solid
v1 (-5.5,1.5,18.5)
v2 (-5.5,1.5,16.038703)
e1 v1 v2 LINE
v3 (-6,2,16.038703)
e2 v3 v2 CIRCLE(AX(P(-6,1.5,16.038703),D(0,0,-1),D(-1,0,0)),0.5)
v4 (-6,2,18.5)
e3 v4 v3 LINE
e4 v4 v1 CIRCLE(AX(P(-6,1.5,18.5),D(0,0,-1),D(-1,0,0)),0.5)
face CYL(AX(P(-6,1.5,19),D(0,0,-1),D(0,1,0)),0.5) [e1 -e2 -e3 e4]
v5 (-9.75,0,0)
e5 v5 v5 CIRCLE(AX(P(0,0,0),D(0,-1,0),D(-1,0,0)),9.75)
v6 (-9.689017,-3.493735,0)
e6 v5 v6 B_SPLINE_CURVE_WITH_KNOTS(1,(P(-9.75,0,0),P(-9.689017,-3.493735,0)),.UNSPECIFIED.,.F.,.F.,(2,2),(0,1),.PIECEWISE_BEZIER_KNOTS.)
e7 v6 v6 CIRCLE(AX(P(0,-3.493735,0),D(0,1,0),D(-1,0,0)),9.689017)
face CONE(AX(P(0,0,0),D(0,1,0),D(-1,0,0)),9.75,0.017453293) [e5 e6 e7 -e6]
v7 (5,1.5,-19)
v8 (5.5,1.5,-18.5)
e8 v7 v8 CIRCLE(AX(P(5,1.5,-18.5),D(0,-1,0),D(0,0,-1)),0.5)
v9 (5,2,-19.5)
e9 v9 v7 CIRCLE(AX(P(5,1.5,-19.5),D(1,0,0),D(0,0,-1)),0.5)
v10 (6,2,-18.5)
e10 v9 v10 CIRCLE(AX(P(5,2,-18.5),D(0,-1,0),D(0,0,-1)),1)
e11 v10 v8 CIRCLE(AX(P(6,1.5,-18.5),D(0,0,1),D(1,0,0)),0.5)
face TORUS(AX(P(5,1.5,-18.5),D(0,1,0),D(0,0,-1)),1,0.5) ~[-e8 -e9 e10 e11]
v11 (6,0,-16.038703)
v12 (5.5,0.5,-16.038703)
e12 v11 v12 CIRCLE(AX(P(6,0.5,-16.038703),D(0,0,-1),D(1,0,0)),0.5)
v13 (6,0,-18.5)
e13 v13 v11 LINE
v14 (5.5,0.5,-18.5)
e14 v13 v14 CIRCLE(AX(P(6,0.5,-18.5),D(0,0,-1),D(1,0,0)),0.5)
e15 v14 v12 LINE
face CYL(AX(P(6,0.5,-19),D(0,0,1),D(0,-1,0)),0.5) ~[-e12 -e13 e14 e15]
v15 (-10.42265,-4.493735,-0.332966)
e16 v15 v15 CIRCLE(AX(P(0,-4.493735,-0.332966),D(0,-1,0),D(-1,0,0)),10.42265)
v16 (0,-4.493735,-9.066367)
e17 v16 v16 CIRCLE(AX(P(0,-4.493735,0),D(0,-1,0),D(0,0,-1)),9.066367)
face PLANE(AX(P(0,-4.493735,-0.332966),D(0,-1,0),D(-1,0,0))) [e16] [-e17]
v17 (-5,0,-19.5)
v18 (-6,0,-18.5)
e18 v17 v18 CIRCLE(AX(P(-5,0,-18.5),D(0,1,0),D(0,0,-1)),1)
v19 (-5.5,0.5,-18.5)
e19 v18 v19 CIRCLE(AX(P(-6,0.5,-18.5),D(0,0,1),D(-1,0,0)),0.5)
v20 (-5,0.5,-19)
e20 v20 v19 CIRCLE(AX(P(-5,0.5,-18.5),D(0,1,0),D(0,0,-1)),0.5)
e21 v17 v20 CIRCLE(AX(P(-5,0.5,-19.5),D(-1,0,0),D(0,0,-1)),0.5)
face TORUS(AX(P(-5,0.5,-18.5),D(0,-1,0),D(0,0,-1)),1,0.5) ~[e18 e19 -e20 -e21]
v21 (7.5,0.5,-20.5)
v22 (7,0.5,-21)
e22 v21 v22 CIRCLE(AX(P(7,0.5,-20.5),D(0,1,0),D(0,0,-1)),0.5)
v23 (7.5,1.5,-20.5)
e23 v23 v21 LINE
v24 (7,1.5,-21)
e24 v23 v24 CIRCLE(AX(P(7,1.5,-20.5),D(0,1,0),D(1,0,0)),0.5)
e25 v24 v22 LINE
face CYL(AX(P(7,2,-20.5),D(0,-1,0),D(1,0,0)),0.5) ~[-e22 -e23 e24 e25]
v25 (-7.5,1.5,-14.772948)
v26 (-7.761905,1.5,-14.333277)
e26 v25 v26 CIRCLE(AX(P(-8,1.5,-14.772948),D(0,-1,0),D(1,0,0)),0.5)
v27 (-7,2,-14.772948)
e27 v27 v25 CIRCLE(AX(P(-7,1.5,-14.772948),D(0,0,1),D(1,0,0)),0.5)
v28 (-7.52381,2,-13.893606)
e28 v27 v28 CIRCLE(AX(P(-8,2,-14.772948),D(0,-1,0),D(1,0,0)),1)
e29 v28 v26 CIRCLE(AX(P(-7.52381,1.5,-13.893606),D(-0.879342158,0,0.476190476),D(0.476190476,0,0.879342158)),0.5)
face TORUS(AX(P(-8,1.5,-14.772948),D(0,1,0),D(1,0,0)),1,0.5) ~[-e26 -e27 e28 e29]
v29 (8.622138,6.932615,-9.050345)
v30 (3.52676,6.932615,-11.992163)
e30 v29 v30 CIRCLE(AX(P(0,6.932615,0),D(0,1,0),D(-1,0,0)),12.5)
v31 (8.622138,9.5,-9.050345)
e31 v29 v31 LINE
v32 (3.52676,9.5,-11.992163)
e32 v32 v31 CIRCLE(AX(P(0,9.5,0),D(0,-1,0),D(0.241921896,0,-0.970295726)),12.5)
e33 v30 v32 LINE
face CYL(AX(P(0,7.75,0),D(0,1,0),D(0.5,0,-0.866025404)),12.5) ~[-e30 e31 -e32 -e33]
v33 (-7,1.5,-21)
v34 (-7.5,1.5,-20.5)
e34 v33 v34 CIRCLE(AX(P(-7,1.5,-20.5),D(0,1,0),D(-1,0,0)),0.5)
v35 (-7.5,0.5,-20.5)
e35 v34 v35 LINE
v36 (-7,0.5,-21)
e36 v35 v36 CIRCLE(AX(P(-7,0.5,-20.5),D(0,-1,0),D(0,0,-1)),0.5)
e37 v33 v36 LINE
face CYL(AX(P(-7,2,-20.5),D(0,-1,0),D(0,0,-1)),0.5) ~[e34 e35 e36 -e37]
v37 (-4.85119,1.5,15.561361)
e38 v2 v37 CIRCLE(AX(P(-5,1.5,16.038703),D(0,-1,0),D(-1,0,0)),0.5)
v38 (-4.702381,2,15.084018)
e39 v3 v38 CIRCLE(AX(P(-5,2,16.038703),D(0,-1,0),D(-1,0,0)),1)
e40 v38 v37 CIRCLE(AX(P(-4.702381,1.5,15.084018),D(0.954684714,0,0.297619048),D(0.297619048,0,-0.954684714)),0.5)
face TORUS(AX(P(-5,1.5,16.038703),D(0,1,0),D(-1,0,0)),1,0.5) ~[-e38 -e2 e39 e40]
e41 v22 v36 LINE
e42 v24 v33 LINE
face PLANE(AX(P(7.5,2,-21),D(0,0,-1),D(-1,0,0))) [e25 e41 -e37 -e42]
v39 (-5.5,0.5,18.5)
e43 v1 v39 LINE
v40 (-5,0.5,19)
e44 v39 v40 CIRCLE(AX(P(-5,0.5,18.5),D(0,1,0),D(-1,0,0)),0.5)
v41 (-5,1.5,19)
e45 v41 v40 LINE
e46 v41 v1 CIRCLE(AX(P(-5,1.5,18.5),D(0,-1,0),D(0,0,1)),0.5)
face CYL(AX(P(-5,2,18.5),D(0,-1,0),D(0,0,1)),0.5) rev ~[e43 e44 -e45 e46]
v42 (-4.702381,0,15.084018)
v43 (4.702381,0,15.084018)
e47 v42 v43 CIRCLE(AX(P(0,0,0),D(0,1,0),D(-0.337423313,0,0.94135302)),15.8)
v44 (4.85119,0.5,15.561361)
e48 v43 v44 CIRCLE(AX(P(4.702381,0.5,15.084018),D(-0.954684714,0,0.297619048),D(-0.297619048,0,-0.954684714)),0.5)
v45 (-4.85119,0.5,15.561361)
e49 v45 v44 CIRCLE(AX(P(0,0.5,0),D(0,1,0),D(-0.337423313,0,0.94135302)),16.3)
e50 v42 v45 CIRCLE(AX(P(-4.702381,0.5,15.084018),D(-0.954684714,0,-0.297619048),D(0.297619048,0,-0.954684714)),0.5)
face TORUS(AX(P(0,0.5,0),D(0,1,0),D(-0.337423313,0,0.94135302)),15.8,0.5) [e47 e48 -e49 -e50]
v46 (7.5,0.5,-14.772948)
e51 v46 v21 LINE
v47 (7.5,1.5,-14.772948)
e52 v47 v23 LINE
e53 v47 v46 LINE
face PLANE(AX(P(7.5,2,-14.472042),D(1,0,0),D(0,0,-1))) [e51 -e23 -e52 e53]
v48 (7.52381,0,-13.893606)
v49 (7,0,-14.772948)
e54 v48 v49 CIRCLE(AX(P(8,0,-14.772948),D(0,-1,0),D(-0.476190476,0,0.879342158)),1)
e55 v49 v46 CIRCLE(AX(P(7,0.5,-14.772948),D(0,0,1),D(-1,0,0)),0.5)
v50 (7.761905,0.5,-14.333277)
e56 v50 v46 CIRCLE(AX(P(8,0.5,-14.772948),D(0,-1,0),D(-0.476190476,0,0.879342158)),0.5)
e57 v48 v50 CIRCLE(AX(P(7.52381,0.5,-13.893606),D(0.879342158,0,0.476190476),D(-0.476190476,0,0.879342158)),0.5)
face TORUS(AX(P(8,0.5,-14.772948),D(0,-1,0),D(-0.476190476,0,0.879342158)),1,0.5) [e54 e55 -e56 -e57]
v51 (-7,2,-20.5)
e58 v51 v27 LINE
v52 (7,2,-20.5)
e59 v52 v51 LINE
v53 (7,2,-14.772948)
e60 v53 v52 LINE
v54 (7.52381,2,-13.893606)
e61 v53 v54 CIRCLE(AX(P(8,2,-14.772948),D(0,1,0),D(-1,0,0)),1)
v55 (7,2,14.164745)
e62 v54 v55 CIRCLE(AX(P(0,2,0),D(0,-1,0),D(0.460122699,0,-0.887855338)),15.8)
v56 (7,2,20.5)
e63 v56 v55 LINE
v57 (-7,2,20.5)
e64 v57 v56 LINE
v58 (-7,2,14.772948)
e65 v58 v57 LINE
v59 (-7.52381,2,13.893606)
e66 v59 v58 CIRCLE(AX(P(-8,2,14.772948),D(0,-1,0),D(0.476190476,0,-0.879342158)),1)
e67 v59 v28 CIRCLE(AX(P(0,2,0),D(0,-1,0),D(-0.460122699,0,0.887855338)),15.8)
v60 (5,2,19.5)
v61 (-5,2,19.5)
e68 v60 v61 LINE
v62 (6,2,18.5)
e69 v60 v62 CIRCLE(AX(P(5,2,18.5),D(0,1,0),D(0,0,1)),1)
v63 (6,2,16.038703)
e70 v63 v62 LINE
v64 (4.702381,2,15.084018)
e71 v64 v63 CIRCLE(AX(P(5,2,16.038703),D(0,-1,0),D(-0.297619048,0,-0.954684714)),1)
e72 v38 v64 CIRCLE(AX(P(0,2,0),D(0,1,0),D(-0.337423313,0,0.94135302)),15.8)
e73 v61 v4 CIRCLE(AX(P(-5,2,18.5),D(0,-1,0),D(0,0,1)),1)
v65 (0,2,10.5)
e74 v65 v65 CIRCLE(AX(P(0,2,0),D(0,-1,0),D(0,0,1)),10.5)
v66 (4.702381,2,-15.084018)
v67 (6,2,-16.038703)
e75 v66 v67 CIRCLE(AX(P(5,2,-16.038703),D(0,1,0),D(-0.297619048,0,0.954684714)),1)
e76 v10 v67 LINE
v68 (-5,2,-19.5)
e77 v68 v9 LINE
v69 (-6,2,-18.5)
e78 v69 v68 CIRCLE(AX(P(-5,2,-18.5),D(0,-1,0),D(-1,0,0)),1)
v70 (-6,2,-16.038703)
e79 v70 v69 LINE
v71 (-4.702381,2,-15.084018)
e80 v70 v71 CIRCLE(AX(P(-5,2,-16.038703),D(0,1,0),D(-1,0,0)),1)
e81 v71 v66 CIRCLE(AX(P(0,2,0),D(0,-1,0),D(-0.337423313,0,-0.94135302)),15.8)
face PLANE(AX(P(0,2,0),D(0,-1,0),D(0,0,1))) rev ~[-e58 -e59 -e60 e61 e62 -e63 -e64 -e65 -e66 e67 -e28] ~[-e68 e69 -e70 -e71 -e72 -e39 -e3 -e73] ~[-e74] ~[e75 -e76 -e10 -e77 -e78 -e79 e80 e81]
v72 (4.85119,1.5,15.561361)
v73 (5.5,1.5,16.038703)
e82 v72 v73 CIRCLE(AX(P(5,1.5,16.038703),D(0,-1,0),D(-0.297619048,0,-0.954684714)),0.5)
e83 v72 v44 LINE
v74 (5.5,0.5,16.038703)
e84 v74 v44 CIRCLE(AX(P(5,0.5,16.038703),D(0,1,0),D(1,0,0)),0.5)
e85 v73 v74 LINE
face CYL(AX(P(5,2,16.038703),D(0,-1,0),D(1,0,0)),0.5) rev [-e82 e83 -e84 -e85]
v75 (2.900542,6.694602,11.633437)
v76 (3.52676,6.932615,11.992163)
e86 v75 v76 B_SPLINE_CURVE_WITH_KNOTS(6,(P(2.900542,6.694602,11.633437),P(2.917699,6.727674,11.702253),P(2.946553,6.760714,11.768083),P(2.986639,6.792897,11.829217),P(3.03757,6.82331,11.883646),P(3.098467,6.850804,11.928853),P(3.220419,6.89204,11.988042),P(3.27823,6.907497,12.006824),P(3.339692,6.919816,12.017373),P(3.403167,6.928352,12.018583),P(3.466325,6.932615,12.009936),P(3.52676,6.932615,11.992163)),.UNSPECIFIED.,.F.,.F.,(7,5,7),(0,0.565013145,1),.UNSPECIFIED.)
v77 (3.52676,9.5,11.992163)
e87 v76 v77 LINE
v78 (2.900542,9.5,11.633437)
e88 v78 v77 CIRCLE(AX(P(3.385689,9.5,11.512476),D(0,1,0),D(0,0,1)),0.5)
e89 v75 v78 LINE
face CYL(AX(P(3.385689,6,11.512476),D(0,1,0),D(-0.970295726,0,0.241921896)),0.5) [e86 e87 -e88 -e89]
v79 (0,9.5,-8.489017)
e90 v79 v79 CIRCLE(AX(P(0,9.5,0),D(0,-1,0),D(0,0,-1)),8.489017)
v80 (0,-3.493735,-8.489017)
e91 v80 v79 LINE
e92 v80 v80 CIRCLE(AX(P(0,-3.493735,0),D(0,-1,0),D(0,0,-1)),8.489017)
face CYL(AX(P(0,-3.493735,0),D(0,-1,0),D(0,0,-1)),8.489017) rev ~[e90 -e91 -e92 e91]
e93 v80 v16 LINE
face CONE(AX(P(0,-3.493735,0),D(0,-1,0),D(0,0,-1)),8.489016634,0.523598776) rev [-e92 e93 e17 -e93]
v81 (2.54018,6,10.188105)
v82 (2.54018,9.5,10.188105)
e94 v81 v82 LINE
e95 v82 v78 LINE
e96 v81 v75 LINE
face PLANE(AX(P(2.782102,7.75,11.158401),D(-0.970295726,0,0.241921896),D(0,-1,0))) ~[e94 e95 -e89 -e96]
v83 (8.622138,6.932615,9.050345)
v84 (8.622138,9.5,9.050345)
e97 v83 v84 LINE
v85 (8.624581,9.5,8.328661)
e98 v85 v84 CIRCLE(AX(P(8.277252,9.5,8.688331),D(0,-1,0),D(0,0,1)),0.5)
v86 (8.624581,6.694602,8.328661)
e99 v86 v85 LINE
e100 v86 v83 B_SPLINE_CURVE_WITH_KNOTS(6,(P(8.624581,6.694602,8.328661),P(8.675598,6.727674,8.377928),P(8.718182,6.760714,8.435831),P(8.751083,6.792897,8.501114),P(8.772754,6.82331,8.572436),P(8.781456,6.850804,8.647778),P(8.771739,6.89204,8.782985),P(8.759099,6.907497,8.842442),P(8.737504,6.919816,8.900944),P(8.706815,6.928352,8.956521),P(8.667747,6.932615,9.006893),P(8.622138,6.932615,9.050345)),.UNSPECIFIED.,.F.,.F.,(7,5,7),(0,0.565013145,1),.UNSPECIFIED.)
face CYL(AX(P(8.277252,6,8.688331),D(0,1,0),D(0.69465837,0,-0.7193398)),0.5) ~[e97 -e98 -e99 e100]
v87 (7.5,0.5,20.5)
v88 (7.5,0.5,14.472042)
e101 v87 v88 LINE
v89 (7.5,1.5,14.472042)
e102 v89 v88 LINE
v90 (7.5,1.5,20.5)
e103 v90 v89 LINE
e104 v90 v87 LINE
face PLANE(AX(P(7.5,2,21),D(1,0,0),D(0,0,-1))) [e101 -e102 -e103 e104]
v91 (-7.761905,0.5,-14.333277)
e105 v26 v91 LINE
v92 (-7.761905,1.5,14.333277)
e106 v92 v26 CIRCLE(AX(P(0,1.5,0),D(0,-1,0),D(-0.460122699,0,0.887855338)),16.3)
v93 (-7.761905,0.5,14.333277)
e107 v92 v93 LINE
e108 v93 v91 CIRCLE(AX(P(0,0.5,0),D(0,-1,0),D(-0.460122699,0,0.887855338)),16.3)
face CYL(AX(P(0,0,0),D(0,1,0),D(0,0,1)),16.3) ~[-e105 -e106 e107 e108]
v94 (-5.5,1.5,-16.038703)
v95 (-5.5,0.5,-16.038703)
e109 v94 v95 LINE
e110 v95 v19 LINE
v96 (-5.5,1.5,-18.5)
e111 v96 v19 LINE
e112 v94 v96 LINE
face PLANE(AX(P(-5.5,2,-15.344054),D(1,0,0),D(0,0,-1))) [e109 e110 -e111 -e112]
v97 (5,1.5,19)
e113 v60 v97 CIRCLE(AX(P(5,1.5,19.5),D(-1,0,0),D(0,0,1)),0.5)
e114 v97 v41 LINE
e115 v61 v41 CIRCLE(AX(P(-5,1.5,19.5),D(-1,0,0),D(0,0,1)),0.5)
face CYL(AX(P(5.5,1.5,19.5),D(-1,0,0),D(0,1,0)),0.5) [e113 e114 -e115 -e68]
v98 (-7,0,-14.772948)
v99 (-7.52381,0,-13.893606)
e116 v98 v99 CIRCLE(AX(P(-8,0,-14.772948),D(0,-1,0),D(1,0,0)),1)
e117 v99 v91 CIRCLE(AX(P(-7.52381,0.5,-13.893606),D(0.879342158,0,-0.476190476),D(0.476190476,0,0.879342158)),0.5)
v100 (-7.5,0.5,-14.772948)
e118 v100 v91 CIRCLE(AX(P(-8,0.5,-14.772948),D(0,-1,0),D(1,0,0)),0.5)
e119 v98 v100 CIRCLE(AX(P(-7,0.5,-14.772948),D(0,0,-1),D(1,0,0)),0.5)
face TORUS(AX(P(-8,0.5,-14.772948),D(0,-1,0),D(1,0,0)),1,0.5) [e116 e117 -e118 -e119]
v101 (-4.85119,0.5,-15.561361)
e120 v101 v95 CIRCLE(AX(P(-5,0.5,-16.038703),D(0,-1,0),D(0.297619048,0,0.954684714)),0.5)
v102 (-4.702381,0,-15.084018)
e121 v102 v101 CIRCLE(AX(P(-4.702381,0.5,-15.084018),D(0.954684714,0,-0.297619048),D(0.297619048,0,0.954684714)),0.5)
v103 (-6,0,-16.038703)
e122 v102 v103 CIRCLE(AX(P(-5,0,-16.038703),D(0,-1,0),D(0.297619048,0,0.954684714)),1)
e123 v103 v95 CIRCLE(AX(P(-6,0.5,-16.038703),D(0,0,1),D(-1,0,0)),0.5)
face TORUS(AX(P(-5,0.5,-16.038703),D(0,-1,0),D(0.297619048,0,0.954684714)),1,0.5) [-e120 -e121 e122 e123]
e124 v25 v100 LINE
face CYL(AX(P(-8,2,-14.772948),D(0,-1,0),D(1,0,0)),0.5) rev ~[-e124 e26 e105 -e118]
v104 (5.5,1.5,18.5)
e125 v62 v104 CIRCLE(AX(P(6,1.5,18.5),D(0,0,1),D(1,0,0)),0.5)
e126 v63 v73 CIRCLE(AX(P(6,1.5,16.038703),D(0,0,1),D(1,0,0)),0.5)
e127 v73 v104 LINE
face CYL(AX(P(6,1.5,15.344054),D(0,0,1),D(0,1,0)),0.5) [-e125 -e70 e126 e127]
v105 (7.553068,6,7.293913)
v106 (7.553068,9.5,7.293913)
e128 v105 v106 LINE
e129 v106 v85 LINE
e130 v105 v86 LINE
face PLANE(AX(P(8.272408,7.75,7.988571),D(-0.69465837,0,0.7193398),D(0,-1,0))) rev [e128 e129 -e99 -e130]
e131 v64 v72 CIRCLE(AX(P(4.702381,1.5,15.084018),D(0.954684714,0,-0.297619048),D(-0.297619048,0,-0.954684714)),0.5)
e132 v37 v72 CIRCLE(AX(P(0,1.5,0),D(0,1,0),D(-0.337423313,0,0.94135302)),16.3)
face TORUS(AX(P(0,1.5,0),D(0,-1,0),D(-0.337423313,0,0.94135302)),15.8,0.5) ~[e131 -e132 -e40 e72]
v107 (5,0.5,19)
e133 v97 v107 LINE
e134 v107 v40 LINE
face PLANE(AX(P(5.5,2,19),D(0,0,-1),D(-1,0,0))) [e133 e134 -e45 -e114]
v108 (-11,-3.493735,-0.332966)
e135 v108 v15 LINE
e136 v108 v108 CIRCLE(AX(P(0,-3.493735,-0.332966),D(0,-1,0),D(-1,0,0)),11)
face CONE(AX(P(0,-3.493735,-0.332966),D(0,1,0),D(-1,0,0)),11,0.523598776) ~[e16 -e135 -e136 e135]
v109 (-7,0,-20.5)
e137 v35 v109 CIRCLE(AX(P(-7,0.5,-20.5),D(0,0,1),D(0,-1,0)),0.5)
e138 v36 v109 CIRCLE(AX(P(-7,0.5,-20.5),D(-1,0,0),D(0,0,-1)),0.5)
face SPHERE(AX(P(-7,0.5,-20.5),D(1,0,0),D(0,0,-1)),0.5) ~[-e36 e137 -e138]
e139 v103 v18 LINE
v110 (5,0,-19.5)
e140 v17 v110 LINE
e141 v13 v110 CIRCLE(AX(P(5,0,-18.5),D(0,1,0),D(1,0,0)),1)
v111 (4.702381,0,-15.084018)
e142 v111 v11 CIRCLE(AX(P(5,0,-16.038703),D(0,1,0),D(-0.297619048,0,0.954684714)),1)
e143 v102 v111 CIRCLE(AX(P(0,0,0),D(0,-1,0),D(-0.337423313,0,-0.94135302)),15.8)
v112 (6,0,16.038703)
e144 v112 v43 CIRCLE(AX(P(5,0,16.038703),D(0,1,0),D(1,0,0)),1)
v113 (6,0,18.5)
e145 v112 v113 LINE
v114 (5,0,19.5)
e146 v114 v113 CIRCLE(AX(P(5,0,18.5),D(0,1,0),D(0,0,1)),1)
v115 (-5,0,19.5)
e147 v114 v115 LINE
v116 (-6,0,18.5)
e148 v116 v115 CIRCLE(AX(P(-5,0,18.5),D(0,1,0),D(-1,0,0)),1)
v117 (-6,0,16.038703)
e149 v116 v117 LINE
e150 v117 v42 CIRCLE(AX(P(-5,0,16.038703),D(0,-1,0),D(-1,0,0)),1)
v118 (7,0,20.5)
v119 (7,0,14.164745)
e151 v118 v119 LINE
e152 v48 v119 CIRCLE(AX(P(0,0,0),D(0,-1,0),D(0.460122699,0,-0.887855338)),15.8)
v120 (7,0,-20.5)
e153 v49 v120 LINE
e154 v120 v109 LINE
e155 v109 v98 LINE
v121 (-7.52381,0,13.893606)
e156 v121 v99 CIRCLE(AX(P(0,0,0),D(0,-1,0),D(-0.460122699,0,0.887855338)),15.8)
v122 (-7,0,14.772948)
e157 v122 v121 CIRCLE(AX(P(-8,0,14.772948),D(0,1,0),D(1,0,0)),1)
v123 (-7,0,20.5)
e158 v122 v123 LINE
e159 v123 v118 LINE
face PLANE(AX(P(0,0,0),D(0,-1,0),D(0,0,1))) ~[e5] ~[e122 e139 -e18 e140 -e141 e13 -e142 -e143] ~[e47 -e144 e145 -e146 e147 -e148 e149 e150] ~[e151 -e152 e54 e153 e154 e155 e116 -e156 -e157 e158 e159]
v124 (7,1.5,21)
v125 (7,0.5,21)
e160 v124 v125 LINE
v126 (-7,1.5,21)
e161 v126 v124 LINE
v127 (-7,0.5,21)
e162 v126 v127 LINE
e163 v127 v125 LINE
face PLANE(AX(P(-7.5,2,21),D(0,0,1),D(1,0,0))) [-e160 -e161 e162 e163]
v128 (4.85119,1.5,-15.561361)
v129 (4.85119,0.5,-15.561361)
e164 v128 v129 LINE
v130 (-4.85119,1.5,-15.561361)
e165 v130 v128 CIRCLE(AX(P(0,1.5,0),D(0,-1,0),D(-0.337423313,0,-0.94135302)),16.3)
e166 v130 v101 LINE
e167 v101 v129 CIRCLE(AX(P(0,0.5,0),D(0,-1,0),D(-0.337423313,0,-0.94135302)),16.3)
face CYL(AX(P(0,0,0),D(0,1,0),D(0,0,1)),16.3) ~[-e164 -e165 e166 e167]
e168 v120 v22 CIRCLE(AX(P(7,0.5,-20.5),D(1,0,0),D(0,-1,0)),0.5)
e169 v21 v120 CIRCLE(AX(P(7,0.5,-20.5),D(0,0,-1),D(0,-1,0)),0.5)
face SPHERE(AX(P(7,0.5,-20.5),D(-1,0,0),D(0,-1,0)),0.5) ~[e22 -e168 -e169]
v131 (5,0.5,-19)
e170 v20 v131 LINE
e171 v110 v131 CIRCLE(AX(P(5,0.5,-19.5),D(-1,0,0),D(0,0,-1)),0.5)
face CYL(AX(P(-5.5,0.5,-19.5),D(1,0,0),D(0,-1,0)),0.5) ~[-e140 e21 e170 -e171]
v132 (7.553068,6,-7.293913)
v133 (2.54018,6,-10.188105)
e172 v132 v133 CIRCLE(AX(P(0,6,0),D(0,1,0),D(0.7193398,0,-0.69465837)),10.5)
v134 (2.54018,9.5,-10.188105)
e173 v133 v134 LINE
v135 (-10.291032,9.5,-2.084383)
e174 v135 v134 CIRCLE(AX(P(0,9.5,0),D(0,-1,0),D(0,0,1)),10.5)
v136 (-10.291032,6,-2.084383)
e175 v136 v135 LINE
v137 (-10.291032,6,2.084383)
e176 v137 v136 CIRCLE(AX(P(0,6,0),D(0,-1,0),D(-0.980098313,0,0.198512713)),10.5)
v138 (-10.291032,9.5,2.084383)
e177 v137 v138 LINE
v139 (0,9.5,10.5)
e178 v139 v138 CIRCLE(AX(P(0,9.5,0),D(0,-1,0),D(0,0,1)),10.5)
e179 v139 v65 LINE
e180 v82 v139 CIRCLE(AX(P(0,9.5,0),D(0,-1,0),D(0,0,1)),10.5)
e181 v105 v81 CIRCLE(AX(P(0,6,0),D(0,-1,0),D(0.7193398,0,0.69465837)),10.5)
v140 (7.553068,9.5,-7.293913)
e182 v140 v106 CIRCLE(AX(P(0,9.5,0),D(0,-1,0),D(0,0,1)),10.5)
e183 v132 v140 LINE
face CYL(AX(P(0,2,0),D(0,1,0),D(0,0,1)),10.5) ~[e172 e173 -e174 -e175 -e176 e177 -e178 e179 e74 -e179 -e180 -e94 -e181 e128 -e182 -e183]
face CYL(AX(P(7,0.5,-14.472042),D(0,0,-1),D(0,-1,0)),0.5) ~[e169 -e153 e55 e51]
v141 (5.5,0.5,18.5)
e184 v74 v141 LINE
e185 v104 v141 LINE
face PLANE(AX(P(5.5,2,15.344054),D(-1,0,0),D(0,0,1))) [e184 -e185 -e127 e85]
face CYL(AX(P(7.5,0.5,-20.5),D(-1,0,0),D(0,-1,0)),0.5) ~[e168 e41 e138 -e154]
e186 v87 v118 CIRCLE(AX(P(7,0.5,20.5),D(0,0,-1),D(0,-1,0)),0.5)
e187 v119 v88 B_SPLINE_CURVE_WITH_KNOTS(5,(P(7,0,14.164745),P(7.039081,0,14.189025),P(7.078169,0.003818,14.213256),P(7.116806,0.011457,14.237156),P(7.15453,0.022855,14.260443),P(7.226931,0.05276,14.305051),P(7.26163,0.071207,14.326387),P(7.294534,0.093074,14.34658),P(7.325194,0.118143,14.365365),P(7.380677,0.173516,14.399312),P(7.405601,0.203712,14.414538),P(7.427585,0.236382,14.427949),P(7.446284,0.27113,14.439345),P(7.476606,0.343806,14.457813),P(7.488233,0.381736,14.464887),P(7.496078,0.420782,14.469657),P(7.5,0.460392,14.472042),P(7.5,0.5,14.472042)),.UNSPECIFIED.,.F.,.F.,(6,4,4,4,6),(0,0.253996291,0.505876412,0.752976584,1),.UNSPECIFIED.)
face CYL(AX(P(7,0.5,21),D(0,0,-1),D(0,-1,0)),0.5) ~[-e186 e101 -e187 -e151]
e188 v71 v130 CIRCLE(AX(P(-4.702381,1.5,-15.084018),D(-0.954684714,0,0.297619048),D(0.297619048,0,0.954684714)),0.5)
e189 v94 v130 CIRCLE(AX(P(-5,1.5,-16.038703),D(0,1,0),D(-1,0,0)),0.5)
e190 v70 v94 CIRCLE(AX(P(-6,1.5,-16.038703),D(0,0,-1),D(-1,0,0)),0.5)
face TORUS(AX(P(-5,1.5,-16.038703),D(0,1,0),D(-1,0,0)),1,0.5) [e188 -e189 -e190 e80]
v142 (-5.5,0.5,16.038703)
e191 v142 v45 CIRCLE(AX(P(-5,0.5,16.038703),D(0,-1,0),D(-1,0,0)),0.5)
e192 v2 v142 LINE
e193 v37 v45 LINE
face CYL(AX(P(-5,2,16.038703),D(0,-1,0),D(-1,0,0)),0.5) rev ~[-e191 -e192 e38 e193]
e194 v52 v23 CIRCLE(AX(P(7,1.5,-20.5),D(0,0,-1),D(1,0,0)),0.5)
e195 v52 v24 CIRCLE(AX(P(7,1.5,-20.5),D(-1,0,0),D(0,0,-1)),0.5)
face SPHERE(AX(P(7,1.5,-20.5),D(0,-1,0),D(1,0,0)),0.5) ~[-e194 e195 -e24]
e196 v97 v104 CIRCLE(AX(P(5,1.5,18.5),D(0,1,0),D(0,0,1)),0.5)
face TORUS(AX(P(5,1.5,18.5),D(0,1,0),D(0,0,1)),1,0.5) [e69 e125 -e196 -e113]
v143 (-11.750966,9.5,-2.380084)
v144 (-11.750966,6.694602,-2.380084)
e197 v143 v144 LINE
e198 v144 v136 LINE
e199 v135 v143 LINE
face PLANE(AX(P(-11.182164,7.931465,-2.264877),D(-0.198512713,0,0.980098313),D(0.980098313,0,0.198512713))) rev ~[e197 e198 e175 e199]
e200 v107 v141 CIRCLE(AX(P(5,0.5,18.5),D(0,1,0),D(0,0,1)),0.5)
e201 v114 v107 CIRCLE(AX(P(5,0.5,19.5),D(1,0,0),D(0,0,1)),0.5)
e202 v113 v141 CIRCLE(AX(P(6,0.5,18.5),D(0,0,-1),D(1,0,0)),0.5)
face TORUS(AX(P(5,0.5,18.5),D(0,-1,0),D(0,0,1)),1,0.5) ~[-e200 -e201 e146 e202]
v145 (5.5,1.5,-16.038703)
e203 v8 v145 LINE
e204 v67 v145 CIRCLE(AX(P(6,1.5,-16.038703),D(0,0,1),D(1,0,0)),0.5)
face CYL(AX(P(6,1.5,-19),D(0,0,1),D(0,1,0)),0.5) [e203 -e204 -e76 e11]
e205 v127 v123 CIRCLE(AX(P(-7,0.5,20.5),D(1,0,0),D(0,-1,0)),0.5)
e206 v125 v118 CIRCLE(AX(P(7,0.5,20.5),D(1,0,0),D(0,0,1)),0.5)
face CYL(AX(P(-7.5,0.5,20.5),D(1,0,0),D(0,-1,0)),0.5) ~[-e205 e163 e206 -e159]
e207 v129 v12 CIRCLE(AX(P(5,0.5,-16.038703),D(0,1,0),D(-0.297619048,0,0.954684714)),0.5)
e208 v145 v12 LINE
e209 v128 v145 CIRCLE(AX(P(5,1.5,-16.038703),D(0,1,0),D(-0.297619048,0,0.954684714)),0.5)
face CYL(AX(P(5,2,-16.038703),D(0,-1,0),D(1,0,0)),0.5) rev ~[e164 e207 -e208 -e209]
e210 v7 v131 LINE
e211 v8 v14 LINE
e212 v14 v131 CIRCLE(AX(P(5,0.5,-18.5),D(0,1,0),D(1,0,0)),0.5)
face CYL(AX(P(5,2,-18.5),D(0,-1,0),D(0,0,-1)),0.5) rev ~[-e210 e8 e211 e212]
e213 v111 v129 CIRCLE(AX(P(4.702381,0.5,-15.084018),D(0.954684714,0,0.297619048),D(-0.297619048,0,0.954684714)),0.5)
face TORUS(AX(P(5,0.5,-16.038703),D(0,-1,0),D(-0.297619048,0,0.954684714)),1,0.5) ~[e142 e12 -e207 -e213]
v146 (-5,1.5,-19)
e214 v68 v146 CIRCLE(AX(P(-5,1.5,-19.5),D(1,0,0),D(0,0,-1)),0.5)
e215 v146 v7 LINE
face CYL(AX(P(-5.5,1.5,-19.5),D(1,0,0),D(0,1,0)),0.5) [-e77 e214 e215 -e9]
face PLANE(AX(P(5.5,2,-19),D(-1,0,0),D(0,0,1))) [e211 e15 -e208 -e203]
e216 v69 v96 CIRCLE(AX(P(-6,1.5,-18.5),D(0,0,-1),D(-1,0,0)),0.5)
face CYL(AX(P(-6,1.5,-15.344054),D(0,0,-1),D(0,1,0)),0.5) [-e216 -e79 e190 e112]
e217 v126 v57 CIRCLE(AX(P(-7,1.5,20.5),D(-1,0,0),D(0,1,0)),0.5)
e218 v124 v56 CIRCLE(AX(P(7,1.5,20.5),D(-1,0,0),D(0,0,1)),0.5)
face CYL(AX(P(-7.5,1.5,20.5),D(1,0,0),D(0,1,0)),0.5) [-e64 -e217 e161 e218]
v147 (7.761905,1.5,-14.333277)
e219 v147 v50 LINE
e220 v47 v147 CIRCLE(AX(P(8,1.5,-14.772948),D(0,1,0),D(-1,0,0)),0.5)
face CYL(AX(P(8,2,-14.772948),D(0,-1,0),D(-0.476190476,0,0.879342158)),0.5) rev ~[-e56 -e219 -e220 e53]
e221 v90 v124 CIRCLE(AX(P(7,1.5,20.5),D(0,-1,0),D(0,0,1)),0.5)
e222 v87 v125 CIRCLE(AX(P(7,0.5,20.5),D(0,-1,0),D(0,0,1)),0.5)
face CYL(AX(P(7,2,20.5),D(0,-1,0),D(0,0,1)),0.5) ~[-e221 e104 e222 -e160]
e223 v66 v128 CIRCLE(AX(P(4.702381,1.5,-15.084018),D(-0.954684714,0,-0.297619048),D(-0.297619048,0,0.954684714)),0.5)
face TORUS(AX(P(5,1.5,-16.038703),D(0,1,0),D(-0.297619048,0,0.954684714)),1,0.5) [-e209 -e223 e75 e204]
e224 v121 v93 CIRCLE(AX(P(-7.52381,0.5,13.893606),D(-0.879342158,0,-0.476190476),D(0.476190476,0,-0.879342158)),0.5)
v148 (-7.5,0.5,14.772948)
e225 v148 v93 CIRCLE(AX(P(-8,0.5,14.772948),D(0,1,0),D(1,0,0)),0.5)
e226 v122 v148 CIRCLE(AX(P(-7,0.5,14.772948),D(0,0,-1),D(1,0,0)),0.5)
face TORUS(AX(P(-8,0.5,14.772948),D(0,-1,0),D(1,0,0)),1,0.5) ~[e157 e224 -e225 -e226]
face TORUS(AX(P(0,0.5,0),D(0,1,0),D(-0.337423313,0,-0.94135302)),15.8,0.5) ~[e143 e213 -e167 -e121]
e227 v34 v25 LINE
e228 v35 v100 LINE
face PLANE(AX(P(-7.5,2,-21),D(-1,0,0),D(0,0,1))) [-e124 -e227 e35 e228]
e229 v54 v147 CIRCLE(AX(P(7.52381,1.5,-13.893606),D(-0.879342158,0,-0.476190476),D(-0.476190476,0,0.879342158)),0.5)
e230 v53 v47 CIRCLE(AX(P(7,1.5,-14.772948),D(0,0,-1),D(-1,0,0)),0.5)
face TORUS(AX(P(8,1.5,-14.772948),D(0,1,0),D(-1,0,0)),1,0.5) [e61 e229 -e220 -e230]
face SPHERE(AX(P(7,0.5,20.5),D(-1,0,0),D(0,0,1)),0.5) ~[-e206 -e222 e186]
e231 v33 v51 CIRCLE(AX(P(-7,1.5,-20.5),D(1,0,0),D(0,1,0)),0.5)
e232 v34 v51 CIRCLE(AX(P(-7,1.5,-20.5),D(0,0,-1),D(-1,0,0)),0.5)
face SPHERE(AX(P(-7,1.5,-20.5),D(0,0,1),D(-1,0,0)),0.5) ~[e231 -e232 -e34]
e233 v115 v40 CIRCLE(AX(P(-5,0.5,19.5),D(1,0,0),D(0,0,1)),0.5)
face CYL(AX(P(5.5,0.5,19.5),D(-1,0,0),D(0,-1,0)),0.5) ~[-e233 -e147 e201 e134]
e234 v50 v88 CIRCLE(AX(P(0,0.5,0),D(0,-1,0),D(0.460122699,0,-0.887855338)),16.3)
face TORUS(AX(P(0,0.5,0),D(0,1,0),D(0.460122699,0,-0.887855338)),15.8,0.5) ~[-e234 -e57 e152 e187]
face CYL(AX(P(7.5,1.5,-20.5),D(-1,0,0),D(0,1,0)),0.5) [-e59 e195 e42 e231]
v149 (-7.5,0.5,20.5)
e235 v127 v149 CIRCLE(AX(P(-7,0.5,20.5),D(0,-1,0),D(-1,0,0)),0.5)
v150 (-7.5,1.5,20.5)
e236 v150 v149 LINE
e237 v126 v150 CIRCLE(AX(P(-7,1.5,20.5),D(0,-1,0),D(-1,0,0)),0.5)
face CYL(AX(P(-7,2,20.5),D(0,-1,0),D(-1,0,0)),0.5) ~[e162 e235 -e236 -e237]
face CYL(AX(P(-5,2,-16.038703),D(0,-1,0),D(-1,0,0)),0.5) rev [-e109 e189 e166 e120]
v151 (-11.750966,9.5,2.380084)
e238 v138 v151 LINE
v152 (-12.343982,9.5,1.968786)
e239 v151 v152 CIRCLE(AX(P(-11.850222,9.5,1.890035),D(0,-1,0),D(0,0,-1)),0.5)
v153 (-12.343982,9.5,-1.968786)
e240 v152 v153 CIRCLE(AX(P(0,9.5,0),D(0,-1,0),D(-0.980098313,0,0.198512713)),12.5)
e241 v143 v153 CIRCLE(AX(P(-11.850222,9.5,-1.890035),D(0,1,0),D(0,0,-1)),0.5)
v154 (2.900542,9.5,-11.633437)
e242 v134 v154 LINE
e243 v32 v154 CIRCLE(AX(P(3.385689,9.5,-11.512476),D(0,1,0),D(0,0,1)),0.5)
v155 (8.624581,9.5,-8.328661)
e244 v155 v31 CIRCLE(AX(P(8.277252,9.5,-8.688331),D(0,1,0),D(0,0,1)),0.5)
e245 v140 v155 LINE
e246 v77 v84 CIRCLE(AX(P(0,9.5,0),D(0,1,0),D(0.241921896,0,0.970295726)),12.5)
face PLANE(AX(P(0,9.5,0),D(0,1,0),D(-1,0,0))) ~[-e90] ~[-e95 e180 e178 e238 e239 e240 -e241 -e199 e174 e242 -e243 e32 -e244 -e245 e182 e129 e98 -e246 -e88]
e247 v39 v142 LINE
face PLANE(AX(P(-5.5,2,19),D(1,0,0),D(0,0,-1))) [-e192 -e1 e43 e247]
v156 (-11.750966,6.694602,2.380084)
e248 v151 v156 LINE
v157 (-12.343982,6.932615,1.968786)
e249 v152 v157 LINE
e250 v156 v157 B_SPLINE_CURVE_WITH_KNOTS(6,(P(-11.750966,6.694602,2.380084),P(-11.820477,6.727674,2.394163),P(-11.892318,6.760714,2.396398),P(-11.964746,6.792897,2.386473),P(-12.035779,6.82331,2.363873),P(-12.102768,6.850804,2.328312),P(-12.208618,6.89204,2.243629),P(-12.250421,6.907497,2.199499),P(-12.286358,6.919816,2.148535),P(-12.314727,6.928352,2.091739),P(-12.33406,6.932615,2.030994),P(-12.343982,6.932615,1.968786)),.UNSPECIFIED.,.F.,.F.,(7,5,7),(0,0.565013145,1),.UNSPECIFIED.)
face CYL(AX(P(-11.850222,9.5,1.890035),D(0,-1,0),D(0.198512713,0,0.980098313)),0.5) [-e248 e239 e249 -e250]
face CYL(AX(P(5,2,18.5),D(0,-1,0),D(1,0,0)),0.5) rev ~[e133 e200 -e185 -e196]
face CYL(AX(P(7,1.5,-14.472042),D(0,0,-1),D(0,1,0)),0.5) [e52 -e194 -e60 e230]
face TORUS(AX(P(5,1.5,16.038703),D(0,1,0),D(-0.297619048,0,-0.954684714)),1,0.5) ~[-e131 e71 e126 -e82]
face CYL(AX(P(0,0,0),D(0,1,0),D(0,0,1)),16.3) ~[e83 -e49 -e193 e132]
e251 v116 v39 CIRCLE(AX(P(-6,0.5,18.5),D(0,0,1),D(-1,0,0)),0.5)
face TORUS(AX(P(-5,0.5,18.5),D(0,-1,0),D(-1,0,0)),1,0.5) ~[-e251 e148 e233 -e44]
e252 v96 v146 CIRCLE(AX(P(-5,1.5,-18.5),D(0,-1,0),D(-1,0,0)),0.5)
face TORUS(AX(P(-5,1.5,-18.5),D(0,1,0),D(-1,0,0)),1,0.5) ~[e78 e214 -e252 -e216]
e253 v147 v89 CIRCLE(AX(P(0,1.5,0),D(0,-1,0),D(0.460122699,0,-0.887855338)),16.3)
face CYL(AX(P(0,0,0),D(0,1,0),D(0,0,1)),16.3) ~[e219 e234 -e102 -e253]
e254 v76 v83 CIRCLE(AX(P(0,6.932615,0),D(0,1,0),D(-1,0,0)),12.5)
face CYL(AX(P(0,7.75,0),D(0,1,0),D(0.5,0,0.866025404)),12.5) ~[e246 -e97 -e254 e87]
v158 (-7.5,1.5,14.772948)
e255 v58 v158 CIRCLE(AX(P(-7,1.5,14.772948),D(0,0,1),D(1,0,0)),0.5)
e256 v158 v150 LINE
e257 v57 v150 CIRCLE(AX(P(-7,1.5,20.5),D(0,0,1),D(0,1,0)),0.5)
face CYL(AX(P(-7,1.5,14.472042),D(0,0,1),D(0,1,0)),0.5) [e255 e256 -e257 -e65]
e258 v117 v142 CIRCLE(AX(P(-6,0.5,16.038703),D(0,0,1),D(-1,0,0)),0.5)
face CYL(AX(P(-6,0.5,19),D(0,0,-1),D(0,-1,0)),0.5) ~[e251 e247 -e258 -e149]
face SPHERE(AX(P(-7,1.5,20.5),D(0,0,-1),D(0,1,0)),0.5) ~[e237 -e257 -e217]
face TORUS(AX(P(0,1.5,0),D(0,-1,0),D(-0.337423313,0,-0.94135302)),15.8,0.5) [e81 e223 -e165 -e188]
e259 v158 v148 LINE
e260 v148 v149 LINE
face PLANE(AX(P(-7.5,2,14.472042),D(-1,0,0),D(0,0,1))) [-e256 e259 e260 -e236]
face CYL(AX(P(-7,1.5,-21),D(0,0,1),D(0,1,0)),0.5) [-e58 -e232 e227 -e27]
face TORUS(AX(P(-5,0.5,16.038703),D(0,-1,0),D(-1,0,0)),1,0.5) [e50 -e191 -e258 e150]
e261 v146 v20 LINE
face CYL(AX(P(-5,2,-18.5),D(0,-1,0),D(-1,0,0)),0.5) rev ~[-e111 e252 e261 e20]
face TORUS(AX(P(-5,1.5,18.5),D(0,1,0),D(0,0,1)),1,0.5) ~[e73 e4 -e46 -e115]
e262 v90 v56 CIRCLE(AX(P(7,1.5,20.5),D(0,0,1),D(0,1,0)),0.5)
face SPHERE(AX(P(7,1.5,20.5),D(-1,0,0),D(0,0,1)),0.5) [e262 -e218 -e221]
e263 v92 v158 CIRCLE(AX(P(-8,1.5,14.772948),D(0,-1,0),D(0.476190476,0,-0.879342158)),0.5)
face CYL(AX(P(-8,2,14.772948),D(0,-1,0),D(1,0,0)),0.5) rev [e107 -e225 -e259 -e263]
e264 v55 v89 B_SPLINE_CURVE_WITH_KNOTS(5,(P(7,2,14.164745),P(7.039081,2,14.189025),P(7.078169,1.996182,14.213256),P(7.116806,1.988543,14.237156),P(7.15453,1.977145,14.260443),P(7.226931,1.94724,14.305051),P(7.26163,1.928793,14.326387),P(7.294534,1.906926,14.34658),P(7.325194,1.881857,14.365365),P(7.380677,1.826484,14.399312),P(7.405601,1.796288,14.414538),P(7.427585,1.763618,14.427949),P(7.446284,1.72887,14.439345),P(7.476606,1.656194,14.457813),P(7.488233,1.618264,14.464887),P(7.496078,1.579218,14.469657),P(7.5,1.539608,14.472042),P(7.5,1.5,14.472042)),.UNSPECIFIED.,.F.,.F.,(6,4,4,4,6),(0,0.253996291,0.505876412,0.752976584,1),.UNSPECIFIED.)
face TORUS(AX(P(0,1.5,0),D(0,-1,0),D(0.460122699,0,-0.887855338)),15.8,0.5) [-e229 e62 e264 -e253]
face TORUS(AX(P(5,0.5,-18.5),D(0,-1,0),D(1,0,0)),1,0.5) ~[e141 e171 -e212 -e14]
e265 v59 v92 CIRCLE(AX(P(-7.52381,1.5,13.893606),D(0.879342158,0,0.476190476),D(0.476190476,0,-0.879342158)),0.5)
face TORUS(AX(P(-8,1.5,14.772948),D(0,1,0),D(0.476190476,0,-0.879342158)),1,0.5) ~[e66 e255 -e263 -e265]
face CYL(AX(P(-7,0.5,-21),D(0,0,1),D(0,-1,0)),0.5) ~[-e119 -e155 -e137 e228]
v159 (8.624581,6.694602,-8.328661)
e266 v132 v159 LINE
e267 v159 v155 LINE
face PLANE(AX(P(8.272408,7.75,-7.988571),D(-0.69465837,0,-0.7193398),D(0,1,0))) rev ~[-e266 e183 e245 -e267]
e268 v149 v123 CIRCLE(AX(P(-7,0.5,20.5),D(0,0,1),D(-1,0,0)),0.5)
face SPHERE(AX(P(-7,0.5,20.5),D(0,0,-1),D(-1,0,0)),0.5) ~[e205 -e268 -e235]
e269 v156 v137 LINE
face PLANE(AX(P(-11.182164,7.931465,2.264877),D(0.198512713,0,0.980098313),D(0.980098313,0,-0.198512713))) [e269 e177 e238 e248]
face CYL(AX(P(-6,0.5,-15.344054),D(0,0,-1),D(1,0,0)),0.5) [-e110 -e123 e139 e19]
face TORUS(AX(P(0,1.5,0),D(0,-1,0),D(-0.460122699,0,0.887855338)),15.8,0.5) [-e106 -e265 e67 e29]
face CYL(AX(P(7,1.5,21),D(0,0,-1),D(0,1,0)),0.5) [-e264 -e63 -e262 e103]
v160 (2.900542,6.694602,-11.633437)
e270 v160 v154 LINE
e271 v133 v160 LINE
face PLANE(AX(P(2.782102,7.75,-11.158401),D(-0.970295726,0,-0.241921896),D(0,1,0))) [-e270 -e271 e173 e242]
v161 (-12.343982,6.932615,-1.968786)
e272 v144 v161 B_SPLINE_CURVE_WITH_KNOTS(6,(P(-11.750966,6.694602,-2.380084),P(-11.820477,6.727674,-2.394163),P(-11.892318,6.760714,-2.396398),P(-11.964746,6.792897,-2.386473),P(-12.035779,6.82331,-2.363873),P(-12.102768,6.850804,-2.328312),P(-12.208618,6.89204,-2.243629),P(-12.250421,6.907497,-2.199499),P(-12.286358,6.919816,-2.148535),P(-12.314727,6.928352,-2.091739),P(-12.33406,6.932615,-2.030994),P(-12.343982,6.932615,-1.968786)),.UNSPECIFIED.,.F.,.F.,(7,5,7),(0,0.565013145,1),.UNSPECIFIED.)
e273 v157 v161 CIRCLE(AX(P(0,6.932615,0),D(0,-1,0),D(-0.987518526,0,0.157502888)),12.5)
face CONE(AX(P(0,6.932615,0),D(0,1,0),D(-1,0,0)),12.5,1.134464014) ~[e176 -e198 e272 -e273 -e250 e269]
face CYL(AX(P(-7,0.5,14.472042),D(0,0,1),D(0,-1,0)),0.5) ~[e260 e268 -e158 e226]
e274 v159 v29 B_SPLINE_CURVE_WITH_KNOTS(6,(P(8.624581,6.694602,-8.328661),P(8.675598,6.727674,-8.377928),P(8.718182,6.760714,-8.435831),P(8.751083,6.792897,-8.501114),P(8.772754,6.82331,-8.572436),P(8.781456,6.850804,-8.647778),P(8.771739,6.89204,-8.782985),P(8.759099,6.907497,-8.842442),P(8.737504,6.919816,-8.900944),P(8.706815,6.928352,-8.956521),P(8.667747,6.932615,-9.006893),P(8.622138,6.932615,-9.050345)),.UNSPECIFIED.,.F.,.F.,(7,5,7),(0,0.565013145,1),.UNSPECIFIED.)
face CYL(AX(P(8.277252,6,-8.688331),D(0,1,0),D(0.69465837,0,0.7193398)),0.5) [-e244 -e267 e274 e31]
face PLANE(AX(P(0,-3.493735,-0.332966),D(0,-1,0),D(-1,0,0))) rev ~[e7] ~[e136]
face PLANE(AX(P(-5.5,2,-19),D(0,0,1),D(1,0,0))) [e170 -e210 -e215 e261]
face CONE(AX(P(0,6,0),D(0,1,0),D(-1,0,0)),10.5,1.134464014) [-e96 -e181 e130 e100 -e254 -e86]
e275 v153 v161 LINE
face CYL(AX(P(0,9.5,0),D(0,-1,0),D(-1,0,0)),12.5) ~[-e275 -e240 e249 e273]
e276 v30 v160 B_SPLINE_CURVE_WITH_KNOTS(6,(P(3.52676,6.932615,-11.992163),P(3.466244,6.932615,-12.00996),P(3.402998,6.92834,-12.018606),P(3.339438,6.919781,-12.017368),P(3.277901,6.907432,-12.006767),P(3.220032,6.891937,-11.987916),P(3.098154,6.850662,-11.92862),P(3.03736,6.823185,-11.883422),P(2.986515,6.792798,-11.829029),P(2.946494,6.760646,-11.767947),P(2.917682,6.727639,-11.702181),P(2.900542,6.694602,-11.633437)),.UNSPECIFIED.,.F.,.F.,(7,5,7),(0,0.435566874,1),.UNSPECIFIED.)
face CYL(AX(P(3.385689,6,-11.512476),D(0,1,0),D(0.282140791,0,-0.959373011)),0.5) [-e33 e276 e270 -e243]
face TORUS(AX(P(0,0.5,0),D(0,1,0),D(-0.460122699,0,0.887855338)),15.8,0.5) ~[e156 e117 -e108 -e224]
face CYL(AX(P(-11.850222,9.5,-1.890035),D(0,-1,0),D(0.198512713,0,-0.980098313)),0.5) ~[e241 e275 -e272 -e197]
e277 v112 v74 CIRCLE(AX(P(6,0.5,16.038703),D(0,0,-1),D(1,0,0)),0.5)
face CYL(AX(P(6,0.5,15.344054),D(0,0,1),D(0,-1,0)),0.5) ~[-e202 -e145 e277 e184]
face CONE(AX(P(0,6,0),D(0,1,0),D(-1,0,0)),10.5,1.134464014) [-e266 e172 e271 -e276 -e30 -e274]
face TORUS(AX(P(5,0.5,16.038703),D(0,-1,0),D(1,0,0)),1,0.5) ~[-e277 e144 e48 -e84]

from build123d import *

# Parameters (mm, degrees)
SKETCH1_W           = 9.2
SKETCH1_H           = 9.5
REVOLVE2_ANGLE      = 22.9
SKETCH4_W           = 3.5
SKETCH4_H           = 2
REVOLVE3_ANGLE      = 32
FILLET2_R           = 0.5
BOSS_EXTRUDE7_START = 2
BOSS_EXTRUDE7_DEPTH = 2
FILLET6_R           = 0.5
SKETCH22_R          = 9.75
BOSS_EXTRUDE8_DEPTH = 3.493734714
BOSS_EXTRUDE8_TAPER = 1
SKETCH23_R          = 8.489016634
CUT_EXTRUDE1_DEPTH  = 30.589307996
SKETCH24_R          = 11
SKETCH24_R_2        = 8.489016634
BOSS_EXTRUDE9_DEPTH = 1
BOSS_EXTRUDE9_DRAFT = 30


with BuildPart() as part:
    # Sketch1 → Revolve1 (revolve)
    with BuildSketch(Plane.XY, mode=Mode.PRIVATE) as revolve1_sk:
        Polygon((10.5, 9.5), (9.2, 9.5), (9.2, 0), (16.3, 0), (16.3, 2), (10.5, 2), align=None)
        with Locations((4.6, 4.75)):
            Rectangle(SKETCH1_W, SKETCH1_H)
    revolve(revolve1_sk.sketch.rotate(Axis((0, 78.807142857, 0), (0, -1, 0)), 90), axis=Axis((0, 78.807142857, 0), (0, -1, 0)))

    # Sketch1<7> → Revolve2 (revolve, symmetric)
    with BuildSketch(Plane.XY) as revolve2_sk:
        Polygon((-12.5, 6.932615316), (-10.5, 6), (-10.5, 9.5), (-12.5, 9.5), align=None)
    revolve(axis=Axis((0, 78.807142857, 0), (0, -1, 0)), revolution_arc=REVOLVE2_ANGLE / 2)
    revolve(revolve2_sk.sketch, axis=Axis((0, 78.807142857, 0), (0, 1, 0)), revolution_arc=REVOLVE2_ANGLE / 2)

    # Sketch4 → Revolve3 (revolve, symmetric)
    with BuildSketch(Plane(origin=(0, 0, 0), x_dir=(0, 1, 0), z_dir=(-0.8660254037844364, 0, -0.5000000000000041))) as revolve3_sk:
        with Locations((7.75, 11.5)):
            Rectangle(SKETCH4_W, SKETCH4_H)
    revolve3 = revolve(axis=Axis((0, -50, 0), (0, 1, 0)), revolution_arc=REVOLVE3_ANGLE / 2)
    revolve3 = revolve3 + revolve(revolve3_sk.sketch, axis=Axis((0, -50, 0), (0, -1, 0)), revolution_arc=REVOLVE3_ANGLE / 2)

    # Mirror1: Revolve3 across plane
    add(revolve3.mirror(Plane.XY))

    # Fillet2
    fillet2_edges = [part.edges().sort_by_distance(p)[0] for p in [
        (-12.25122891, 8.216307658, -2.481408912),
        (-12.25122891, 8.216307658, 2.481408912),
        (8.991747504, 7.75, -8.683229631),
        (3.024023695, 7.75, -12.128696578),
        (3.024023695, 7.75, 12.128696578),
        (8.991747504, 7.75, 8.683229631),
    ]]
    fillet(fillet2_edges, radius=FILLET2_R)

    # Sketch1<9> → Cut-Revolve1 (revolve, cut)
    with BuildSketch(Plane.XY):
        Polygon((-12.5, 6), (-10.5, 6), (-12.5, 6.932615316), align=None)
    revolve(axis=Axis((0, -50, 0), (0, 1, 0)), mode=Mode.SUBTRACT)

    # Sketch21 → Boss-Extrude7 (add)
    with BuildSketch(Plane(origin=(0, 0, 0), x_dir=(1, 0, 0), z_dir=(0, 1, 0)).offset(BOSS_EXTRUDE7_START)):
        with BuildLine():
            ThreePointArc((-5.5, -15.344054223), (-6.514606767, -14.941549407), (-7.5, -14.472042012))
            Line((-7.5, -14.472042012), (-7.5, -21))
            Line((-7.5, -21), (7.5, -21))
            Line((7.5, -21), (7.5, -14.472042012))
            ThreePointArc((7.5, -14.472042012), (6.514606767, -14.941549407), (5.5, -15.344054223))
            Line((5.5, -15.344054223), (5.5, -19))
            Line((5.5, -19), (-5.5, -19))
            Line((-5.5, -19), (-5.5, -15.344054223))
        make_face()
        with BuildLine():
            Line((7.5, 21), (-7.5, 21))
            Line((-7.5, 21), (-7.5, 14.472042012))
            ThreePointArc((-7.5, 14.472042012), (-6.514606767, 14.941549407), (-5.5, 15.344054223))
            Line((-5.5, 15.344054223), (-5.5, 19))
            Line((-5.5, 19), (5.5, 19))
            Line((5.5, 19), (5.5, 15.344054223))
            ThreePointArc((5.5, 15.344054223), (6.514606767, 14.941549407), (7.5, 14.472042012))
            Line((7.5, 14.472042012), (7.5, 21))
        make_face()
    extrude(amount=-BOSS_EXTRUDE7_DEPTH)

    # Fillet6
    fillet6_edges = [part.edges().sort_by_distance(p)[0] for p in [
        (16.3, 0, 0),
        (0, 0, 16.3),
        (16.3, 2, 0),
        (0, 2, 16.3),
        (5.5, 2, 17.172027112),
        (5.5, 1, 15.344054223),
        (5.5, 0, 17.172027112),
        (5.5, 1, 19),
        (-5.5, 1, 19),
        (-5.5, 1, 15.344054223),
        (-7.5, 2, 17.736021006),
        (-7.5, 1, 14.472042012),
        (-7.5, 0, 17.736021006),
        (0, 2, 21),
        (-7.5, 1, 21),
        (0, 0, 21),
        (7.5, 1, 21),
        (7.5, 0, 17.736021006),
        (-5.5, 0, 17.172027112),
        (0, 0, 19),
        (0, 2, 19),
        (-5.5, 2, 17.172027112),
        (7.5, 2, 17.736021006),
        (0, 0, -16.3),
        (-16.3, 0, 0),
        (0, 2, -16.3),
        (-16.3, 2, 0),
        (-5.5, 0, -17.172027112),
        (0, 0, -21),
        (7.5, 0, -17.736021006),
        (5.5, 2, -17.172027112),
        (5.5, 1, -19),
        (5.5, 0, -17.172027112),
        (0, 2, -19),
        (-5.5, 1, -19),
        (0, 0, -19),
        (-5.5, 1, -15.344054223),
        (-7.5, 1, -14.472042012),
        (-7.5, 2, -17.736021006),
        (-7.5, 1, -21),
        (-7.5, 0, -17.736021006),
        (7.5, 1, -21),
        (7.5, 1, -14.472042012),
        (5.5, 1, -15.344054223),
        (7.5, 2, -17.736021006),
        (0, 2, -21),
        (-5.5, 2, -17.172027112),
    ]]
    fillet(fillet6_edges, radius=FILLET6_R)

    # Sketch22 → Boss-Extrude8 (add)
    with BuildSketch(Plane(origin=(0, 0, 0), x_dir=(-1, 0, 0), z_dir=(0, -1, 0))):
        Circle(SKETCH22_R)
    extrude(amount=BOSS_EXTRUDE8_DEPTH, taper=BOSS_EXTRUDE8_TAPER)

    # Sketch23 → Cut-Extrude1 (cut, through all)
    with BuildSketch(Plane(origin=(0, -3.493734714, 0), x_dir=(-1, 0, 0), z_dir=(0, -1, 0))):
        with Locations(Location((0, 0, 0), (0, 0, 90))):
            Circle(SKETCH23_R)
    extrude(amount=-CUT_EXTRUDE1_DEPTH, mode=Mode.SUBTRACT)


with BuildPart() as boss_extrude9_tool:
    # Sketch24 → Boss-Extrude9 (with draft: the straight prism first)
    with BuildSketch(Plane(origin=(0, -3.493734714, 0), x_dir=(-1, 0, 0), z_dir=(0, -1, 0))):
        with Locations((0, 0.332966048)):
            Circle(SKETCH24_R)
        with Locations(Location((0, 0, 0), (0, 0, 90))):
            Circle(SKETCH24_R_2, mode=Mode.SUBTRACT)
    extrude(amount=BOSS_EXTRUDE9_DEPTH)
    # Boss-Extrude9: the draft: its side faces are tilted about the plane it starts from
    boss_extrude9_sides = [boss_extrude9_tool.faces().sort_by_distance(p)[0] for p in [
        (11, -3.993734714, -0.332966048),
        (0, -3.993734714, 8.489016634),
    ]]
    draft(boss_extrude9_sides, Plane(origin=(0, -3.493734714, 0), x_dir=(-1, 0, 0), z_dir=(0, -1, 0)), BOSS_EXTRUDE9_DRAFT)


with BuildPart() as part_1:
    add(part.part)

    # Boss-Extrude9: add boss_extrude9_tool
    add(boss_extrude9_tool.part)


solid = part_1.part
